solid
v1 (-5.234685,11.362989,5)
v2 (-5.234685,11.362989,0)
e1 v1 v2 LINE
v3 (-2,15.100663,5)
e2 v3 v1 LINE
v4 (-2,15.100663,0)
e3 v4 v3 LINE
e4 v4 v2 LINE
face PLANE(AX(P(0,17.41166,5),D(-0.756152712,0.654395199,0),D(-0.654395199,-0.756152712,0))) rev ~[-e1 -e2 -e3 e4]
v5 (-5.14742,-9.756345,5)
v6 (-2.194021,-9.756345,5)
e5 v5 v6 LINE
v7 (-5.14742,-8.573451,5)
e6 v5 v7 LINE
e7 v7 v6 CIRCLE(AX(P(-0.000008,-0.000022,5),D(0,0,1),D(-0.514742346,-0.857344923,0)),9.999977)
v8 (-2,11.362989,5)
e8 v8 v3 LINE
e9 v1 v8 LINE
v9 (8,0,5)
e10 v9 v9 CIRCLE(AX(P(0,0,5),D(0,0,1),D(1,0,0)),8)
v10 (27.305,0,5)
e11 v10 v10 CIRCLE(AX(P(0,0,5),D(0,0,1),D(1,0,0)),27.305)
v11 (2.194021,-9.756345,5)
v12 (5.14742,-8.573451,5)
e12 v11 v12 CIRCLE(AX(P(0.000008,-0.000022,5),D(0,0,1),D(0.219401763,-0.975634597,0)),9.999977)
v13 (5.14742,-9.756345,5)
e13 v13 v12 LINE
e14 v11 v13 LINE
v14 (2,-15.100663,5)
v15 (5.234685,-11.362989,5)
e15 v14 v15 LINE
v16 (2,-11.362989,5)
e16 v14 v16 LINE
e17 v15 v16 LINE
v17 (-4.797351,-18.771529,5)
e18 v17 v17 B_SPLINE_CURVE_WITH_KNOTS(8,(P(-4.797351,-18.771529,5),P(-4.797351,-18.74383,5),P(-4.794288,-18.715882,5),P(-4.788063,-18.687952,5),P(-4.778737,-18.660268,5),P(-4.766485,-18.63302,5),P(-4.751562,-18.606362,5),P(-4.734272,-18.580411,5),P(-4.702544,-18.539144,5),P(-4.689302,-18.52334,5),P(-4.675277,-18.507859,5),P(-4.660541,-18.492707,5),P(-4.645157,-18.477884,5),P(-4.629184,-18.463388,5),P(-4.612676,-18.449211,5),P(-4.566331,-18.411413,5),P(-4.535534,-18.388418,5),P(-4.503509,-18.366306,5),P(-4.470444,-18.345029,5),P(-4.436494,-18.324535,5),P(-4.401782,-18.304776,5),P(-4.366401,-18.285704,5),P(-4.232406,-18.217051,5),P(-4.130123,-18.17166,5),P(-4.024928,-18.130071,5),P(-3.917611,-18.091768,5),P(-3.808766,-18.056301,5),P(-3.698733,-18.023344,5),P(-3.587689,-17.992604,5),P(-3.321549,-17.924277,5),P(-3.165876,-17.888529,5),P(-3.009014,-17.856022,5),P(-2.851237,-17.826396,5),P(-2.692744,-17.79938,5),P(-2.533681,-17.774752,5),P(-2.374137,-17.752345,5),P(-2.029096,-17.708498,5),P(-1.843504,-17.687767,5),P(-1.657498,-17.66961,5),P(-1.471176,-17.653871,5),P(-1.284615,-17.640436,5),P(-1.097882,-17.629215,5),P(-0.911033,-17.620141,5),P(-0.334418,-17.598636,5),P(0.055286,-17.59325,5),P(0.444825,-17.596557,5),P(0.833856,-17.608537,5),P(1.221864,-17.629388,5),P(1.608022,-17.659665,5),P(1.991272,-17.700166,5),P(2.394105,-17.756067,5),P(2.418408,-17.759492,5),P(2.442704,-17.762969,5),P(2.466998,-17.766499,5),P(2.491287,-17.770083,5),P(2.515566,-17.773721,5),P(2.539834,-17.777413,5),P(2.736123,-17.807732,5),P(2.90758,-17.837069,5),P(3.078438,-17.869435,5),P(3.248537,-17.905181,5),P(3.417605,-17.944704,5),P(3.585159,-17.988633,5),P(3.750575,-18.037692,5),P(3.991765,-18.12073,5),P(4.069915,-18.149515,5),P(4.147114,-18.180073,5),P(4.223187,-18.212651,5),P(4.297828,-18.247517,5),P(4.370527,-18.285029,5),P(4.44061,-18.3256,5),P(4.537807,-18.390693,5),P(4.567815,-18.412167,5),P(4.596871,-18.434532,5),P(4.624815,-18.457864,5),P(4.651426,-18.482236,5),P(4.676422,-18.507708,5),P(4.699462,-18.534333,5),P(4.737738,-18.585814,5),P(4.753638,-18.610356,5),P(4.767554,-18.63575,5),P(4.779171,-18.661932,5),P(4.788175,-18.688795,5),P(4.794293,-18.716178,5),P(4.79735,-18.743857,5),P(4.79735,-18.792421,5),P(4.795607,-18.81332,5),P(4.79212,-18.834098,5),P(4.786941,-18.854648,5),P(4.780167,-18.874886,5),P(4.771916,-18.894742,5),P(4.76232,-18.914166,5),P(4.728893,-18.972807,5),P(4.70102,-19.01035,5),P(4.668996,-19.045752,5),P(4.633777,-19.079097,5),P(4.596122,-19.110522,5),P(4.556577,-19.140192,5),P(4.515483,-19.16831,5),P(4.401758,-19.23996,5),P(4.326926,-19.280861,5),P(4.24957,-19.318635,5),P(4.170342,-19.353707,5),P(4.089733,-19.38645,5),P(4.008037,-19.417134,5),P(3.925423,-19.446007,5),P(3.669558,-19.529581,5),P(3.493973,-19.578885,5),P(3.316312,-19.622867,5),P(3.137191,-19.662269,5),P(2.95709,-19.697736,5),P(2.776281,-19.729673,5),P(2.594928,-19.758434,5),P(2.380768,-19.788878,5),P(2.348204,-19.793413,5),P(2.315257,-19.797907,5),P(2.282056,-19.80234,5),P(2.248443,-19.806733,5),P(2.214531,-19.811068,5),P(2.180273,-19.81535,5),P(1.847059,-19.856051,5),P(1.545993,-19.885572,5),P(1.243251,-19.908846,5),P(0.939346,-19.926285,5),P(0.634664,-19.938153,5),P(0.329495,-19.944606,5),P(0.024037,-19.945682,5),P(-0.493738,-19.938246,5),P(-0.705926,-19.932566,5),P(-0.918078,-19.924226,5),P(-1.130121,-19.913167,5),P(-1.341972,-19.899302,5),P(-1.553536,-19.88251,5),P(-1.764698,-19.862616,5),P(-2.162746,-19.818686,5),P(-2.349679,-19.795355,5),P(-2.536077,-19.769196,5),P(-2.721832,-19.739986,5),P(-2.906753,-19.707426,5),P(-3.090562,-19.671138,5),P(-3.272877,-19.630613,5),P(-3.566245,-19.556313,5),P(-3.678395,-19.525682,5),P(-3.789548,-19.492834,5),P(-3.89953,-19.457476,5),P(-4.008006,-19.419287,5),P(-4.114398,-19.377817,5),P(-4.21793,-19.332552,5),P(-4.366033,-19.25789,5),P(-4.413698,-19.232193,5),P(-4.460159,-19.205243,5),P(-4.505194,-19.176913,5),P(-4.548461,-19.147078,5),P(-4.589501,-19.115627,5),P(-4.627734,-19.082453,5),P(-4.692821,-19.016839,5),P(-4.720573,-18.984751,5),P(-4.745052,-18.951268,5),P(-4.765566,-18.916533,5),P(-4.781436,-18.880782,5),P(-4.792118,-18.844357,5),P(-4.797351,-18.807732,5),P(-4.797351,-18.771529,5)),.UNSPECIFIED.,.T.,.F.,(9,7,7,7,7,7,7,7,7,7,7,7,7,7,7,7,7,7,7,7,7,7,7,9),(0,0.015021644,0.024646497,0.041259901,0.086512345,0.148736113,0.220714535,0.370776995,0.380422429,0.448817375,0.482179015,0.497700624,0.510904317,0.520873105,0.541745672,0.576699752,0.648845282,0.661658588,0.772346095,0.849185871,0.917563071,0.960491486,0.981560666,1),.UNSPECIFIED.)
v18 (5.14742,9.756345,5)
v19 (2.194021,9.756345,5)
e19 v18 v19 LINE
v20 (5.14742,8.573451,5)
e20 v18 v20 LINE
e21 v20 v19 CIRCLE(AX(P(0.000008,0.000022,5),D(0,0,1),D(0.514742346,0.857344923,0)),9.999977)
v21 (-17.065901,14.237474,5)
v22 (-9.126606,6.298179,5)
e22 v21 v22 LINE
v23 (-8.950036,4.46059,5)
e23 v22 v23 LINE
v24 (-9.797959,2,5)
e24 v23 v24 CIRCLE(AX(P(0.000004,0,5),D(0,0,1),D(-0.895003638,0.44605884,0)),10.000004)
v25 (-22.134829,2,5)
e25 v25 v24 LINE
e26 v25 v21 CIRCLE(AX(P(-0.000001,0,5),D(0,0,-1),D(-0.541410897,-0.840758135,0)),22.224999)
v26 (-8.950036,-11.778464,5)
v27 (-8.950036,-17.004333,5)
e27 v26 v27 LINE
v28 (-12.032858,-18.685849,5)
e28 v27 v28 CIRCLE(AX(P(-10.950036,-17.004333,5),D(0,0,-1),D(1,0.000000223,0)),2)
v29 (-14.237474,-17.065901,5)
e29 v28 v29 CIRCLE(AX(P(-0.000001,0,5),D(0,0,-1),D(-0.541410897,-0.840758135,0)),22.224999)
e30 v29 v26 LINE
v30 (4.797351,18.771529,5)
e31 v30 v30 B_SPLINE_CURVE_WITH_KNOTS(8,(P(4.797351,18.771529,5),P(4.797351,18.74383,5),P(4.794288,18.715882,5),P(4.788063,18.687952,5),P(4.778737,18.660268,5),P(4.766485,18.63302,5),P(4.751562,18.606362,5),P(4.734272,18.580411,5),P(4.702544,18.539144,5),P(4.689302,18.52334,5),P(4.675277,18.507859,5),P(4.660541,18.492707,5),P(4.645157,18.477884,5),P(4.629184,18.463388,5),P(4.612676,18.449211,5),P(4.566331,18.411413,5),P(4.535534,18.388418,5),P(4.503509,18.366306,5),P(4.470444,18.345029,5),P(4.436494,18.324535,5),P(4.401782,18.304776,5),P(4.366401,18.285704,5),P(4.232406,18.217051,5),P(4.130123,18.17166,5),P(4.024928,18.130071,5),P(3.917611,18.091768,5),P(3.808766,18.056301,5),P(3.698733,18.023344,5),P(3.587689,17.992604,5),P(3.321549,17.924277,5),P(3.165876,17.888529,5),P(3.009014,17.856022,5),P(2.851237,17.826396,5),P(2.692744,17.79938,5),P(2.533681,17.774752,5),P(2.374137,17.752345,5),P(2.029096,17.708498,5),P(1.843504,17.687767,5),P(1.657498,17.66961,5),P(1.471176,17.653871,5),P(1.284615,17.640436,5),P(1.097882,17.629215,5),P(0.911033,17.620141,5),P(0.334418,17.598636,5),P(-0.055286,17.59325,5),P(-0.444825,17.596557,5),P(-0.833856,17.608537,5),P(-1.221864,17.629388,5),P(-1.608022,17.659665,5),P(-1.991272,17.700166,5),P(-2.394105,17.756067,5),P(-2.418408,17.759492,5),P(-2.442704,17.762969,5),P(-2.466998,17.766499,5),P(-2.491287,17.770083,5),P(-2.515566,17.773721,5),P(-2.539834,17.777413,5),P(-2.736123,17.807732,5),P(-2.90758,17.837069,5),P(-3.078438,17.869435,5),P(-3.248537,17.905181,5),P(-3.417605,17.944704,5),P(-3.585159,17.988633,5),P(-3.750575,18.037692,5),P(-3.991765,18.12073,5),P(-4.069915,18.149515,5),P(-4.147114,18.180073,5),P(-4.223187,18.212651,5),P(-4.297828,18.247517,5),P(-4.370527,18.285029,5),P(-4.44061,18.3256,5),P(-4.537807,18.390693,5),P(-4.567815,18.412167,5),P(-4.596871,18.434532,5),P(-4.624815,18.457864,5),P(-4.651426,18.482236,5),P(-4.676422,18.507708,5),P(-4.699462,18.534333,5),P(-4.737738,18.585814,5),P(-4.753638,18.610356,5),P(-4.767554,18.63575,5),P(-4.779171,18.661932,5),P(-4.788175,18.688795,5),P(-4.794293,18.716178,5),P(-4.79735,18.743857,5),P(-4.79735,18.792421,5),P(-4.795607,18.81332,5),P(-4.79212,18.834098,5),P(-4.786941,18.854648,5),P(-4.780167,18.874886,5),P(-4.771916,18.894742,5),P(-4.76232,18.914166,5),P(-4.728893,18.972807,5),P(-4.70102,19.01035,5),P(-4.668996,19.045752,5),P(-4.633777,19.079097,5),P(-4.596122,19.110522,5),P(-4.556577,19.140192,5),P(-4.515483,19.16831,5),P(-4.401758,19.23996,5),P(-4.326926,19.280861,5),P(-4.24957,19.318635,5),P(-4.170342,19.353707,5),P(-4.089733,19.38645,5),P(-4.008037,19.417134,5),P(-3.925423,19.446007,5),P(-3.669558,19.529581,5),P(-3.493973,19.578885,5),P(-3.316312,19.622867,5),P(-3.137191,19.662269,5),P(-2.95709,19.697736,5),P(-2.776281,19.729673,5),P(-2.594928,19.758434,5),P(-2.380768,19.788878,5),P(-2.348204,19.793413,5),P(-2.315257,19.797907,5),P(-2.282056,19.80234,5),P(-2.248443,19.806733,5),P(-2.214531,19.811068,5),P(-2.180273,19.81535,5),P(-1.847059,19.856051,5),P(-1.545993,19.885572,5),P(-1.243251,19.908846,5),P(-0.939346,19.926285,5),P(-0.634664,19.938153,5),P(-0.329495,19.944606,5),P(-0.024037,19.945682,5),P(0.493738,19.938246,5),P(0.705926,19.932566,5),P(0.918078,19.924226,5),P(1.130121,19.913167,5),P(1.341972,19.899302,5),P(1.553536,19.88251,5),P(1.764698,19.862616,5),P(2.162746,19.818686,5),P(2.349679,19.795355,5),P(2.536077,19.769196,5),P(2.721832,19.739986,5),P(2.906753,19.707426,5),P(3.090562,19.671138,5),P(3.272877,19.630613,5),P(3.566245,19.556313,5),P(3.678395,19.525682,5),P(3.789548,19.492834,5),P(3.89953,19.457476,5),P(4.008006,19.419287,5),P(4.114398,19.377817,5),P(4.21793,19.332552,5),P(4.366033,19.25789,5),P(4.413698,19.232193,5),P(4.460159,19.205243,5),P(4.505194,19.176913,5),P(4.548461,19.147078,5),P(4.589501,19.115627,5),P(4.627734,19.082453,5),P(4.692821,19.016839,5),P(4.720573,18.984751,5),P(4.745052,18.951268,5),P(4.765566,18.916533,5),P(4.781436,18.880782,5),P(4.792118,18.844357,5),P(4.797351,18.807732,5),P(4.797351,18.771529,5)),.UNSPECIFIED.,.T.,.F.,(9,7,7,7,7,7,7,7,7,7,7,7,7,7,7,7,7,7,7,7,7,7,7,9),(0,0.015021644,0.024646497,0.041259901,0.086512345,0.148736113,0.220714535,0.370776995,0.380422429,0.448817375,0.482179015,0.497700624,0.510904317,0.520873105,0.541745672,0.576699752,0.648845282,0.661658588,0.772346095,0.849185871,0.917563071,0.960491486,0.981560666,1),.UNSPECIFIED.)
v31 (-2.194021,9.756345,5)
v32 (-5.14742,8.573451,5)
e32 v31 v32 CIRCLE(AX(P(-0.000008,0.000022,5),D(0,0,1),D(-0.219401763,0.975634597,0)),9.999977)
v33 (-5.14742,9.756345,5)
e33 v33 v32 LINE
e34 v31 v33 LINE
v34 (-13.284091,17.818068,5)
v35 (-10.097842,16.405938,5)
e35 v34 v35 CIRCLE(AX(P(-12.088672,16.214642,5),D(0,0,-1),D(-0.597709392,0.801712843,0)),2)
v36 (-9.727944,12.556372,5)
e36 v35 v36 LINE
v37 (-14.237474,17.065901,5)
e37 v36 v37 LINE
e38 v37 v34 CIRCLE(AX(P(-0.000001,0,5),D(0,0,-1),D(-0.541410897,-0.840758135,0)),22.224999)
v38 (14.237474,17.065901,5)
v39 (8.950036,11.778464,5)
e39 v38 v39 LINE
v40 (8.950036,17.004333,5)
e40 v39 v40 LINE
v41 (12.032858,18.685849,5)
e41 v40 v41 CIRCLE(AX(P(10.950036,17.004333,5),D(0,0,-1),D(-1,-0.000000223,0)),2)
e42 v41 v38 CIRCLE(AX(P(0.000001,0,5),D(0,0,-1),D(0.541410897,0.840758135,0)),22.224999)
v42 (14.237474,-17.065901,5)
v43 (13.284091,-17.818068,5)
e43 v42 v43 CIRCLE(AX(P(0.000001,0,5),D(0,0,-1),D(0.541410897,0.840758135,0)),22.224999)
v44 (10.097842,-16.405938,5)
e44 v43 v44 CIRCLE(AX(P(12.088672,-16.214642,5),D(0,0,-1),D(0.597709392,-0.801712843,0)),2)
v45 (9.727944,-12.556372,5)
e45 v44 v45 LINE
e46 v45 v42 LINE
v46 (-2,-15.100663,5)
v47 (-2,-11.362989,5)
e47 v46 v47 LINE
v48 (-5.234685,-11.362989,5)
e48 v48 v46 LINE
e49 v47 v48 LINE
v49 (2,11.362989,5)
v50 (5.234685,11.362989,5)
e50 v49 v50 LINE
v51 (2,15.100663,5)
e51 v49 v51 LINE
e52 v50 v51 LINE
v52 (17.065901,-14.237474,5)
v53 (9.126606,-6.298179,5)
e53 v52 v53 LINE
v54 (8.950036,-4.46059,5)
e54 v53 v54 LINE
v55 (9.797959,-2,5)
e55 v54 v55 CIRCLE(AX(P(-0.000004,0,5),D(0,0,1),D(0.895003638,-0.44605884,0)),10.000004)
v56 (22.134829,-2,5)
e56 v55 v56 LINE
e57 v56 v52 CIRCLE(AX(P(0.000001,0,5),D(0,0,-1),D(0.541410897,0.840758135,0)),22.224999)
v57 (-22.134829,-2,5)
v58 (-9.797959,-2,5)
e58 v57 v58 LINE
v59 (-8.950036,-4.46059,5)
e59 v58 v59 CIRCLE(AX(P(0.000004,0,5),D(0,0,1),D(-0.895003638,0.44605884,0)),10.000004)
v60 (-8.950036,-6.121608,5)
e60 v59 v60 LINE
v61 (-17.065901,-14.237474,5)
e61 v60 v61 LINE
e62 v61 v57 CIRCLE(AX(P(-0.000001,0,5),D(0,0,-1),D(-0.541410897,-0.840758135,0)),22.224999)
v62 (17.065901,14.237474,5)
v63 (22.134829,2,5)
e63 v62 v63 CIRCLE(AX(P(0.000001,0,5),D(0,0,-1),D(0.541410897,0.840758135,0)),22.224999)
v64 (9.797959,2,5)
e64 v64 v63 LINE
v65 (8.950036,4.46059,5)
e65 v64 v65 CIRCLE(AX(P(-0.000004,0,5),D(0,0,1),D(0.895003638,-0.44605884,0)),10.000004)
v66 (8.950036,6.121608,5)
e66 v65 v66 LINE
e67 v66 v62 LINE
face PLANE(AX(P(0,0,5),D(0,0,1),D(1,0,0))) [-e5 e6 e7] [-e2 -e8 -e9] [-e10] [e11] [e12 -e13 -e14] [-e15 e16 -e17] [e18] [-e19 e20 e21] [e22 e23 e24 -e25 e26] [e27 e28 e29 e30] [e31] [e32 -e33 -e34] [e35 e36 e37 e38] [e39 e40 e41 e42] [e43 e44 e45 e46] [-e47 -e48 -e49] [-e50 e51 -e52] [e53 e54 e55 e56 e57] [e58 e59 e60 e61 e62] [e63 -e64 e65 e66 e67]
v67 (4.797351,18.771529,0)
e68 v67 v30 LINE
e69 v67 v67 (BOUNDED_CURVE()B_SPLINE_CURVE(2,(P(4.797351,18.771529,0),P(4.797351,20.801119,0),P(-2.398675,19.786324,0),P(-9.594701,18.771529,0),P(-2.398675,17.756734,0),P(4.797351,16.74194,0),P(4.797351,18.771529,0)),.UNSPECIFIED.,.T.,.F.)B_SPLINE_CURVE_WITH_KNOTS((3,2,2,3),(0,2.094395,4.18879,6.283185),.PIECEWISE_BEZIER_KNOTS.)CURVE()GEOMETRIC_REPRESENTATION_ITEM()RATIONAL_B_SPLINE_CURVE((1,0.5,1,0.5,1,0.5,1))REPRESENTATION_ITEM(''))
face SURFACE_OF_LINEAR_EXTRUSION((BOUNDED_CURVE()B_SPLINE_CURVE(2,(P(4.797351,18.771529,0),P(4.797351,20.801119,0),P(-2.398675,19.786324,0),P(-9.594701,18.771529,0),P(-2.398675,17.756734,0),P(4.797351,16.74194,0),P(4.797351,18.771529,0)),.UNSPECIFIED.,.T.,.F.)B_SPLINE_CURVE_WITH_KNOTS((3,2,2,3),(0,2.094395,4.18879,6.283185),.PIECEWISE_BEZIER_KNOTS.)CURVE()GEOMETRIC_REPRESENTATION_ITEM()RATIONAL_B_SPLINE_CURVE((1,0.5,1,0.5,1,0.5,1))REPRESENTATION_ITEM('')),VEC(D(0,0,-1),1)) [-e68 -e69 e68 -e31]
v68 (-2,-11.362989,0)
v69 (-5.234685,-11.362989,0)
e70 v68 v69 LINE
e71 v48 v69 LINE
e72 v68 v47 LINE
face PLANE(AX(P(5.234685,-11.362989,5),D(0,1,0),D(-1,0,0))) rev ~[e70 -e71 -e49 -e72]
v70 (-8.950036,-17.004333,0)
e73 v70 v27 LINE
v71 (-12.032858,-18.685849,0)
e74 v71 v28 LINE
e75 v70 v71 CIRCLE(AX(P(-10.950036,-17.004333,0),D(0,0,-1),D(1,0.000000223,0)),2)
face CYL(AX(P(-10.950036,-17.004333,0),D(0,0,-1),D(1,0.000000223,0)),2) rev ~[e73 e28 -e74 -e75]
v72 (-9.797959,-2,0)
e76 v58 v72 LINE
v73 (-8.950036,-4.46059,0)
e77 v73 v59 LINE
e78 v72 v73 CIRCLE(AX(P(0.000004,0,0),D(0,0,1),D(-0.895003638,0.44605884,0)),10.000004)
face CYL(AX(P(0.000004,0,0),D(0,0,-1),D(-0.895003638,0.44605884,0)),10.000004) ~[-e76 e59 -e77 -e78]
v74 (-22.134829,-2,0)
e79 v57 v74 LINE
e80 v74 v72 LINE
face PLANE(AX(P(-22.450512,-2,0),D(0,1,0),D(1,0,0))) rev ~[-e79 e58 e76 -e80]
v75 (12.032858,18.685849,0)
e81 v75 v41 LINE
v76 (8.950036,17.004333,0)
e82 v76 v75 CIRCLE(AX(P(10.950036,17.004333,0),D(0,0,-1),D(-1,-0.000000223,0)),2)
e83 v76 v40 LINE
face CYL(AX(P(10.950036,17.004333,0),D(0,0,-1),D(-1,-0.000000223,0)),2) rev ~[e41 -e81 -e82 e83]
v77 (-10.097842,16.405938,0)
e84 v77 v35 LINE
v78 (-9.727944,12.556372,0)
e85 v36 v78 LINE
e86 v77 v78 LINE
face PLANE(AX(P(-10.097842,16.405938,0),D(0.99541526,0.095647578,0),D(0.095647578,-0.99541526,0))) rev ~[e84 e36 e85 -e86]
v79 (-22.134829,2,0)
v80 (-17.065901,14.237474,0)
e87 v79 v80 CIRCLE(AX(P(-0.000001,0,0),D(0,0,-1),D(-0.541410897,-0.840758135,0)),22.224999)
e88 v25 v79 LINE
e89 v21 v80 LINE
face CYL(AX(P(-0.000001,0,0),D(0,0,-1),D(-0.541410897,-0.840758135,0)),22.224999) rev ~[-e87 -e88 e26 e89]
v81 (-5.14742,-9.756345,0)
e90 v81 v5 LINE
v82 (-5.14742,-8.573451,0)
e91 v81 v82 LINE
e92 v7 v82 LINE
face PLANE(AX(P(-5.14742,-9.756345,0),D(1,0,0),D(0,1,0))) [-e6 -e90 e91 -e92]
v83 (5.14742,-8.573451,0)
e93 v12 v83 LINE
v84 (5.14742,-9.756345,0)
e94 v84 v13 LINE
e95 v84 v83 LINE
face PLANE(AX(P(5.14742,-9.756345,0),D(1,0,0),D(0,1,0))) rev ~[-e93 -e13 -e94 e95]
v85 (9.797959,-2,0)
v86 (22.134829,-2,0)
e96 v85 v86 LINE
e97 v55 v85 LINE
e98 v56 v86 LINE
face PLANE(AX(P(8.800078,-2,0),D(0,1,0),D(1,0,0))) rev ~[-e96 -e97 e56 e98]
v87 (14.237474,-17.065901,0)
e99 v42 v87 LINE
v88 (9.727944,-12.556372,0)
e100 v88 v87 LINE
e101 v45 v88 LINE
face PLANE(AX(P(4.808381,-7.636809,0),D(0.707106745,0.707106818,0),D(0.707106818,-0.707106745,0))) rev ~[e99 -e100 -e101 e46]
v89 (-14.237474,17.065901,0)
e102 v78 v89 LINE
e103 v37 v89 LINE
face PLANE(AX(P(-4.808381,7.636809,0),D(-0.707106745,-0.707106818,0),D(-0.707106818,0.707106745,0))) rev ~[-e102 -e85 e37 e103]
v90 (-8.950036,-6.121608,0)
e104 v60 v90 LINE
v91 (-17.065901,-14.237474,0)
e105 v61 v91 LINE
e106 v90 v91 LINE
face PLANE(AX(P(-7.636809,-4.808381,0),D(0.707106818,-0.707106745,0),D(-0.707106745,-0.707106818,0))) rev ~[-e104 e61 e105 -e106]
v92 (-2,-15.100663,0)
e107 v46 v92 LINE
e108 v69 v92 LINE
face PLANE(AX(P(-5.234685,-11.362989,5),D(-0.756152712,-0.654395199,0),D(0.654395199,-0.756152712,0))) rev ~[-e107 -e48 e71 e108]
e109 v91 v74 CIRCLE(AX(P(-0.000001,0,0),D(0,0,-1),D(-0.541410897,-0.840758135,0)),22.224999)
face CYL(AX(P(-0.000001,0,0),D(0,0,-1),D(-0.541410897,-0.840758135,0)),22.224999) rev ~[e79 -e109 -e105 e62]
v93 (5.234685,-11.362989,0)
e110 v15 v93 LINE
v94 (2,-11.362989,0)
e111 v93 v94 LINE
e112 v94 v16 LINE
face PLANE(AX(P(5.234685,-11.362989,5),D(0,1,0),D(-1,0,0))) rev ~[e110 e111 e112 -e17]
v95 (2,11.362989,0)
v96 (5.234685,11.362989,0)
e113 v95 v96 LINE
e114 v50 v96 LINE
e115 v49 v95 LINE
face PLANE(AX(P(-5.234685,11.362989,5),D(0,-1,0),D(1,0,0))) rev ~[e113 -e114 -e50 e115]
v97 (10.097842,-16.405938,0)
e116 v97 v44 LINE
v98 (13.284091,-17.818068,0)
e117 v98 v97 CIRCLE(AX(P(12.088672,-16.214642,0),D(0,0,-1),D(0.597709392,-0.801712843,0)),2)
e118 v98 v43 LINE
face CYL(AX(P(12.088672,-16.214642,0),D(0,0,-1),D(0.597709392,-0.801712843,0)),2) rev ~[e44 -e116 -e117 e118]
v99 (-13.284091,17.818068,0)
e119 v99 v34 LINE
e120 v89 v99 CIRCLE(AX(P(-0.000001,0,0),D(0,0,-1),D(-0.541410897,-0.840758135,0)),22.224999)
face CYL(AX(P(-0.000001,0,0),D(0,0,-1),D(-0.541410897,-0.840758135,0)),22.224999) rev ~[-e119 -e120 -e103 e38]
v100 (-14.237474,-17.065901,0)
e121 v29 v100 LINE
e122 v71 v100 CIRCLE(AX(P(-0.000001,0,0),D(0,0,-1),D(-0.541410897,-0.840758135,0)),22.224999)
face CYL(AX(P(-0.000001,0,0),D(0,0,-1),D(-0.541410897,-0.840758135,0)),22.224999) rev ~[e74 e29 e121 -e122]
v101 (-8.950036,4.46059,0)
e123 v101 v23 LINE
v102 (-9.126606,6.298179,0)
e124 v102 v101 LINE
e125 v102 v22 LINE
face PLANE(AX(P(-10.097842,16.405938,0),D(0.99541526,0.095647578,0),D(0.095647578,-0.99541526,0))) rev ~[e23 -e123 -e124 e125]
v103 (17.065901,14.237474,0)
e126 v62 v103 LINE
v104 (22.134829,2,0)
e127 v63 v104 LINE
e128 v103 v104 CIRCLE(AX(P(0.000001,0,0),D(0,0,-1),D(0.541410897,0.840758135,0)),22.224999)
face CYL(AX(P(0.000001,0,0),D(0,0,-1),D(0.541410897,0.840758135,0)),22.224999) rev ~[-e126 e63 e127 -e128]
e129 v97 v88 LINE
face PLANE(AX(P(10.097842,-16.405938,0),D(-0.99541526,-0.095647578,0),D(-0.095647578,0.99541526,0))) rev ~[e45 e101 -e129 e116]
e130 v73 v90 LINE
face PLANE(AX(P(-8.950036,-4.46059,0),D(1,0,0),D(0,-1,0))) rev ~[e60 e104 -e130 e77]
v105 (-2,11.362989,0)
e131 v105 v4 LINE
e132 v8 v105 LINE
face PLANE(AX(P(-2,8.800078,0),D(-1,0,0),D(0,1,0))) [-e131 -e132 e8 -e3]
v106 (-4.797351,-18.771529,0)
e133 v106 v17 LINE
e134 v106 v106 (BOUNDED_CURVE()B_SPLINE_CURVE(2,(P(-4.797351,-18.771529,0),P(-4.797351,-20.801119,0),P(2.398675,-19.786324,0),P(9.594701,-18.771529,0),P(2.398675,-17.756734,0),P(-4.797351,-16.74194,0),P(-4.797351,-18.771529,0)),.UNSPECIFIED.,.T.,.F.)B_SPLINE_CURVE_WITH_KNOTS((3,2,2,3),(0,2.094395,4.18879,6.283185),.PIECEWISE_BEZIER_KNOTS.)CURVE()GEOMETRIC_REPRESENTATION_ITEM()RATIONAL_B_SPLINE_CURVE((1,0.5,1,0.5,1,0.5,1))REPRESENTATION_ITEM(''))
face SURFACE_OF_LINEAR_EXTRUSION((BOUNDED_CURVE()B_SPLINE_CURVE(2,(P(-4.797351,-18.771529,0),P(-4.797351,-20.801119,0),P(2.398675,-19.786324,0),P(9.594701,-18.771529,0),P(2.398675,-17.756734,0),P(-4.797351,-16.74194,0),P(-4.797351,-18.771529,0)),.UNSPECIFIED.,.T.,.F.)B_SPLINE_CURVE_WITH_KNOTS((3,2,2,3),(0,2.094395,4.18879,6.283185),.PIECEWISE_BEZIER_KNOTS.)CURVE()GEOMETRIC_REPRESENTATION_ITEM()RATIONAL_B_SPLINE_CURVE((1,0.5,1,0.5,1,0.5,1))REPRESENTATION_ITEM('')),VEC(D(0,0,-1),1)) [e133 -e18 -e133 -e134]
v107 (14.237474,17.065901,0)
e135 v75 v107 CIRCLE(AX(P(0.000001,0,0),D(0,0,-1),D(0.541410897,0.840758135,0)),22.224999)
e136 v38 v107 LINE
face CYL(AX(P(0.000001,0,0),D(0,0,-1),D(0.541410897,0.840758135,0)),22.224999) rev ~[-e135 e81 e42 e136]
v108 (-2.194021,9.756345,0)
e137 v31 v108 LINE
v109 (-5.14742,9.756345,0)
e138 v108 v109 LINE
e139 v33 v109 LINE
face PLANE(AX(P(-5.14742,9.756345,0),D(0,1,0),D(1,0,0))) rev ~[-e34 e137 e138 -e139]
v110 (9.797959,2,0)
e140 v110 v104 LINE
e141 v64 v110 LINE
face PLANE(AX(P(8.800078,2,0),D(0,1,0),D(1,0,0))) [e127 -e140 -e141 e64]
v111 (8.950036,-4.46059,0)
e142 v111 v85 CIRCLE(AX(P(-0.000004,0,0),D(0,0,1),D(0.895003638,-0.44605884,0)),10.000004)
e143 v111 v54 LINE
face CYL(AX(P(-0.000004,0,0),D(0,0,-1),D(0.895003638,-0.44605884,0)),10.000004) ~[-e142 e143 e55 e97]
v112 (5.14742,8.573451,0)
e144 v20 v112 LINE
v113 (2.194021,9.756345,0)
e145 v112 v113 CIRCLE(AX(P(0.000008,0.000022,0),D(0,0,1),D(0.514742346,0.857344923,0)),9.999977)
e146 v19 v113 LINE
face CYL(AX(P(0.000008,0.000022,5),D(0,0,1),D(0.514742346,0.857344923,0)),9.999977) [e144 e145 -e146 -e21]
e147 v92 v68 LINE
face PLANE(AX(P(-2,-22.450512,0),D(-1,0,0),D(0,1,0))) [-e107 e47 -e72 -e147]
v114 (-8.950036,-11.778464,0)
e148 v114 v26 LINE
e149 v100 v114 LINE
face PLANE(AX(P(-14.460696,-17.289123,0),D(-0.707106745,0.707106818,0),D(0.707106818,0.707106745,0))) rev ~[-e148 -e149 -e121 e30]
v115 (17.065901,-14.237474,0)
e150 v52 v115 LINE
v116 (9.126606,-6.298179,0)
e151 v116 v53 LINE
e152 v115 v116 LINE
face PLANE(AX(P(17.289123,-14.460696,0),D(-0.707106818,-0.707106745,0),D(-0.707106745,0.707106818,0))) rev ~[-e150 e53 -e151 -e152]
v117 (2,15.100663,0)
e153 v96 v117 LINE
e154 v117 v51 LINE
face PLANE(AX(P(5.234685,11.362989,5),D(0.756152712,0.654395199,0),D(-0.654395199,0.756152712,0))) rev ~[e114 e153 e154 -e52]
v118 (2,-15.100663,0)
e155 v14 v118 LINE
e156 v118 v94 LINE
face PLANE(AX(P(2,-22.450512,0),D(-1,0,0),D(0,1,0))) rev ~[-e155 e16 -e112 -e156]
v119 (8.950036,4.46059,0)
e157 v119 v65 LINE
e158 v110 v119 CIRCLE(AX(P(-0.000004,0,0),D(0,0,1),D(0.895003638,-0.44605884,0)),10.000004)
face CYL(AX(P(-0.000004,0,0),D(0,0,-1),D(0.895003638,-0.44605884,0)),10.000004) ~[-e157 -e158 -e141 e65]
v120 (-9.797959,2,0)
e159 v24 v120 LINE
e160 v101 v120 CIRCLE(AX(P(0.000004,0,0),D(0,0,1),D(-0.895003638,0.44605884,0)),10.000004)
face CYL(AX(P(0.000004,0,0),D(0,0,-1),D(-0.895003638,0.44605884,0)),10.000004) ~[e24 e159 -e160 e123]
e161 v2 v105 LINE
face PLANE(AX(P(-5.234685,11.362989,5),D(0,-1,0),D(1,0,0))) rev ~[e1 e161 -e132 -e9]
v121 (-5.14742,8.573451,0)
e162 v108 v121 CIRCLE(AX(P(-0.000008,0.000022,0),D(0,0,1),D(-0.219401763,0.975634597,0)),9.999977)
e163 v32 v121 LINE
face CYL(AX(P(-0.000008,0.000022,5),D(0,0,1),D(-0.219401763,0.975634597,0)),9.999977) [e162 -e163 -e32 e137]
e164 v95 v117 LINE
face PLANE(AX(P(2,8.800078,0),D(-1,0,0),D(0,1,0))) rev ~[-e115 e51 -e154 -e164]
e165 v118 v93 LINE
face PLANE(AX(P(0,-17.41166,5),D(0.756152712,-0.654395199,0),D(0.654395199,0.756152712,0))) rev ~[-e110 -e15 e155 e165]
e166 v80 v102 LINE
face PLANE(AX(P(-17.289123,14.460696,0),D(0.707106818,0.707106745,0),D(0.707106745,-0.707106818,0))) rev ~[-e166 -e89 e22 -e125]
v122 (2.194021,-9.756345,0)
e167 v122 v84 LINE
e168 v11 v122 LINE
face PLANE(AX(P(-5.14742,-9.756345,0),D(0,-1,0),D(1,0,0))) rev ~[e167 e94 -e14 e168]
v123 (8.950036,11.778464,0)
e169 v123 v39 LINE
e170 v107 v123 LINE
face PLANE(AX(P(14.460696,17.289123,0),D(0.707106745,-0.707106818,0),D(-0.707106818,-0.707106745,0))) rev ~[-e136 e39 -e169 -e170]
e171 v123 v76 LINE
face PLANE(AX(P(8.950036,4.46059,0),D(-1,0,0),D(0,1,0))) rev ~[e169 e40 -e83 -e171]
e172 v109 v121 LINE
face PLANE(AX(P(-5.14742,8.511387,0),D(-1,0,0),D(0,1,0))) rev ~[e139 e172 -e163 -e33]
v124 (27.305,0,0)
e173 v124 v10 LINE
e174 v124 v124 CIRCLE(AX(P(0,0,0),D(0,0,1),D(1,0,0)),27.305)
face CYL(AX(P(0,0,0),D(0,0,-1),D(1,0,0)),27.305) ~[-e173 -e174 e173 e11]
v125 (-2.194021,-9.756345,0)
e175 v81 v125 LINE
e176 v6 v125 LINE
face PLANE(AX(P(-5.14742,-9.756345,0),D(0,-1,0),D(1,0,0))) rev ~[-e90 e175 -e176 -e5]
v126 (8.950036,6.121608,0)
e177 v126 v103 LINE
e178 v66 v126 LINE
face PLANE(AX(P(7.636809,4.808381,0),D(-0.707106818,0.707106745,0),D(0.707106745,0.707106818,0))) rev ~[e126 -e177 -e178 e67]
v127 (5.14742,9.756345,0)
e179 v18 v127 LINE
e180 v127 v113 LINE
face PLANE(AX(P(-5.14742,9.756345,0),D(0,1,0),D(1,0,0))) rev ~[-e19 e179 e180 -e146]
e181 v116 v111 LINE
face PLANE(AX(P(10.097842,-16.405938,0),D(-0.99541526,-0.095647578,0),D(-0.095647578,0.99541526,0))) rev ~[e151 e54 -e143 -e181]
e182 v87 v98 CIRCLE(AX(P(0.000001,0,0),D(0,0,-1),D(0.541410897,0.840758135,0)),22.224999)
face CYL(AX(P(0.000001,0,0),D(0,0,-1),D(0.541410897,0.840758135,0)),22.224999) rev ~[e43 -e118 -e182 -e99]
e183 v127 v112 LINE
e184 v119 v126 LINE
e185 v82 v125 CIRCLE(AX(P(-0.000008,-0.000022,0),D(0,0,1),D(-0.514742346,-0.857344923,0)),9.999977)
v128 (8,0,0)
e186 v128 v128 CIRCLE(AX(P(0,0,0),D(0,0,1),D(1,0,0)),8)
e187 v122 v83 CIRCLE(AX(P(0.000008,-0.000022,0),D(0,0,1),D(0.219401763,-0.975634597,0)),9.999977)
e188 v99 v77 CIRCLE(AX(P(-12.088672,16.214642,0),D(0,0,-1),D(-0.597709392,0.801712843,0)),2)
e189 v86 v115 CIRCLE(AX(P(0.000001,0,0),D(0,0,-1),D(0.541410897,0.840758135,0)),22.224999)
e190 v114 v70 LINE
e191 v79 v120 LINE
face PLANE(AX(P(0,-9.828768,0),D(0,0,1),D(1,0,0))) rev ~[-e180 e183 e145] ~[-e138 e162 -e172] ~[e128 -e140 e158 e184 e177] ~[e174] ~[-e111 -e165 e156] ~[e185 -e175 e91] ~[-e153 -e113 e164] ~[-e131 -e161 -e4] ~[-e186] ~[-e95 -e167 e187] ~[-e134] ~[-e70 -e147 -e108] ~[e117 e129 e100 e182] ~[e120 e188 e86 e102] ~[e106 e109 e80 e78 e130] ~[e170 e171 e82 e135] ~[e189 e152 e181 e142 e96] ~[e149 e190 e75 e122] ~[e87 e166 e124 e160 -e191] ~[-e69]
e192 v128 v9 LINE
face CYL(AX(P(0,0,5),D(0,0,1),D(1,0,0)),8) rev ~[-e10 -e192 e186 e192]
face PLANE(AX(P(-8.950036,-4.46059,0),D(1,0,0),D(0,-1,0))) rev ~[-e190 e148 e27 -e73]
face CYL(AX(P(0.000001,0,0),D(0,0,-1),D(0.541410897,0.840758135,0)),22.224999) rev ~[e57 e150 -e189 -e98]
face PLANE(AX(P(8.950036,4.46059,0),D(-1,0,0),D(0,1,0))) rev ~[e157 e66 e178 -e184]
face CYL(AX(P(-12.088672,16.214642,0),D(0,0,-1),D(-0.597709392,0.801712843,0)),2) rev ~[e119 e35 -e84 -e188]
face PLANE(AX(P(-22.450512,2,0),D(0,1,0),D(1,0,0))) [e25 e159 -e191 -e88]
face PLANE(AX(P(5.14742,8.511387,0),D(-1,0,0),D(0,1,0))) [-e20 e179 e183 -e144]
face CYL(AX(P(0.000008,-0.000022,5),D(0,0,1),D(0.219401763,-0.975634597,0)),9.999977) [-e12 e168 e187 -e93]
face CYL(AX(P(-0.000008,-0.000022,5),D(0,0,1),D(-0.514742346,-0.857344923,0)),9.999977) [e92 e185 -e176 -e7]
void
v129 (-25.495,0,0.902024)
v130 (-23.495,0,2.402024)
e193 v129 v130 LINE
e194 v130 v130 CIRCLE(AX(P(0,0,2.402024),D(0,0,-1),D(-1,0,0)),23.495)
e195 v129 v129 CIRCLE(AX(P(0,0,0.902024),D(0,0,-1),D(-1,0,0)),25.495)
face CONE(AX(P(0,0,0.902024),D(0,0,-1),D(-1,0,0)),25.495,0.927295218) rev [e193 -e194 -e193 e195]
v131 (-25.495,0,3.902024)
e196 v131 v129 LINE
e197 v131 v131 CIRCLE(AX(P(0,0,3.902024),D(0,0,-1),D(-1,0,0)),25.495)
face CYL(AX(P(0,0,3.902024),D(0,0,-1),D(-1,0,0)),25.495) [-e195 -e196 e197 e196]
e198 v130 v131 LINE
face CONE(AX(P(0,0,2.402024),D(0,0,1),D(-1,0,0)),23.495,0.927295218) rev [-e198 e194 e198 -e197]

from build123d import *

# Parameters (mm, degrees)
F0_R      = 27.305
F0_R_2    = 3.125
F1_DEPTH  = 5
F2_R      = 7.5
F2_R_2    = 3.125
F3_DEPTH  = 4
F4_R      = 6.096
F7_DEPTH  = 5.001
F10_R     = 0.662213
F11_DEPTH = 9.001
F12_W     = 13.650434
F12_H     = 4
F12_W_2   = 4
F12_H_2   = 13.650434
F13_DEPTH = 5
F15_DEPTH = 12.7
F16_W     = 10.29484
F16_H     = 1.244958
F17_DEPTH = 12.7
F18_R     = 8
F19_DEPTH = 12.7
F20_R     = 8
F21_DEPTH = 5


with BuildPart() as f1:
    # F0 (on Top) → F1 (new body)
    with BuildSketch(Plane.XY):
        Circle(F0_R)
        with BuildLine():
            Line((-10.097842, 16.405938), (-8.950036, 4.46059))
            ThreePointArc((-8.950036, 4.46059), (-10, 0), (-8.950036, -4.46059))
            Line((-8.950036, -4.46059), (-8.950036, -17.004333))
            ThreePointArc((-8.950036, -17.004333), (-9.992342, -18.76013), (-12.032858, -18.685849))
            ThreePointArc((-12.032858, -18.685849), (-22.211956, -0.761352), (-13.284091, 17.818068))
            ThreePointArc((-13.284091, 17.818068), (-11.278303, 18.043112), (-10.097842, 16.405938))
        make_face(mode=Mode.SUBTRACT)
        Circle(F0_R_2, mode=Mode.SUBTRACT)
        with BuildLine():
            Line((8.950036, 4.46059), (8.950036, 17.004333))
            ThreePointArc((8.950036, 17.004333), (9.992342, 18.76013), (12.032858, 18.685849))
            ThreePointArc((12.032858, 18.685849), (22.211956, 0.761352), (13.284091, -17.818068))
            ThreePointArc((13.284091, -17.818068), (11.278303, -18.043112), (10.097842, -16.405938))
            Line((10.097842, -16.405938), (8.950036, -4.46059))
            ThreePointArc((8.950036, -4.46059), (10, 0), (8.950036, 4.46059))
        make_face(mode=Mode.SUBTRACT)
    extrude(amount=F1_DEPTH)

    # F2 (on face) → F3 (join)
    with BuildSketch(Plane.XY.offset(5)):
        Circle(F2_R)
        Circle(F2_R_2, mode=Mode.SUBTRACT)
    extrude(amount=F3_DEPTH)

    # F4 (on Front) → F5 (revolve, cut)
    with BuildSketch(Plane.XZ):
        with Locations((-9.469913, 12.312098)):
            Circle(F4_R)
    revolve(axis=Axis((0, 0, 5.050069), (0, 0, -1)), mode=Mode.SUBTRACT)

    # F6 (on face) → F7 (cut, through all)
    with BuildSketch(Plane.XY.offset(5)):
        Polygon((0, 17.41166), (0, 11.362989), (5.234685, 11.362989), align=None)
        Polygon((-5.234685, 11.362989), (0, 11.362989), (0, 17.41166), align=None)
        Polygon((0, -11.362989), (-5.234685, -11.362989), (0, -17.41166), (5.234685, -11.362989), align=None)
    extrude(amount=-F7_DEPTH, mode=Mode.SUBTRACT)

    # F8 (on Front) → F9 (revolve, cut)
    with BuildSketch(Plane.XZ):
        Polygon((-25.495, 3.902024), (-25.495, 2.402024), (-23.495, 2.402024), align=None)
        Polygon((-23.495, 2.402024), (-25.495, 2.402024), (-25.495, 0.902024), align=None)
    revolve(axis=Axis((0, 0, 20.538263), (0, 0, -1)), mode=Mode.SUBTRACT)

    # F10 (on face) → F11 (cut, through all)
    with BuildSketch(Plane.XY):
        with Locations((0, 5.743192)):
            Circle(F10_R)
        with Locations((-4.06105, 4.06105)):
            Circle(F10_R)
        with Locations((-5.743192, 0)):
            Circle(F10_R)
        with Locations((-4.06105, -4.06105)):
            Circle(F10_R)
        with Locations((0, -5.743192)):
            Circle(F10_R)
        with Locations((4.06105, -4.06105)):
            Circle(F10_R)
        with Locations((5.743192, 0)):
            Circle(F10_R)
        with Locations((4.06105, 4.06105)):
            Circle(F10_R)
    extrude(amount=F11_DEPTH, mode=Mode.SUBTRACT)

    # F12 (on Top) → F13 (join)
    with BuildSketch(Plane.XY):
        with Locations((-15.625295, 0)):
            Rectangle(F12_W, F12_H)
        Polygon((-14.460696, -17.289123), (-4.808381, -7.636809), (-7.636809, -4.808381), (-17.289123, -14.460696), align=None)
        with Locations((0, -15.625295)):
            Rectangle(F12_W_2, F12_H_2)
        Polygon((17.289123, -14.460696), (7.636809, -4.808381), (4.808381, -7.636809), (14.460696, -17.289123), align=None)
        with Locations((15.625295, 0)):
            Rectangle(F12_W, F12_H)
        Polygon((14.460696, 17.289123), (4.808381, 7.636809), (7.636809, 4.808381), (17.289123, 14.460696), align=None)
        with Locations((0, 15.625295)):
            Rectangle(F12_W_2, F12_H_2)
        Polygon((-17.289123, 14.460696), (-7.636809, 4.808381), (-4.808381, 7.636809), (-14.460696, 17.289123), align=None)
    extrude(amount=F13_DEPTH)

    # F14 (on Top) → F15 (cut, symmetric)
    with BuildSketch(Plane.XY):
        with BuildLine():
            add(Edge.make_bspline(
                [(4.797351, 18.771529), (4.797351, 20.801119), (-2.398675, 19.786324), (-9.594701, 18.771529), (-2.398675, 17.756734), (4.797351, 16.74194), (4.797351, 18.771529)],
                knots=[0, 0, 0, 2.094395, 2.094395, 4.18879, 4.18879, 6.283185, 6.283185, 6.283185], degree=2, weights=[1, 0.5, 1, 0.5, 1, 0.5, 1]))
        make_face()
        with BuildLine():
            add(Edge.make_bspline(
                [(-4.797351, -18.771529), (-4.797351, -20.801119), (2.398675, -19.786324), (9.594701, -18.771529), (2.398675, -17.756734), (-4.797351, -16.74194), (-4.797351, -18.771529)],
                knots=[0, 0, 0, 2.094395, 2.094395, 4.18879, 4.18879, 6.283185, 6.283185, 6.283185], degree=2, weights=[1, 0.5, 1, 0.5, 1, 0.5, 1]))
        make_face()
    extrude(amount=F15_DEPTH, both=True, mode=Mode.SUBTRACT)

    # F16 (on Top) → F17 (cut, symmetric)
    with BuildSketch(Plane.XY):
        with Locations((0, 9.133866)):
            Rectangle(F16_W, F16_H)
        with Locations((0, -9.133866)):
            Rectangle(F16_W, F16_H)
    extrude(amount=F17_DEPTH, both=True, mode=Mode.SUBTRACT)

    # F18 (on face) → F19 (cut, symmetric)
    with BuildSketch(Plane.XY.offset(5)):
        Circle(F18_R)
    extrude(amount=F19_DEPTH, both=True, mode=Mode.SUBTRACT)

    # F20 (on face) → F21 (join)
    with BuildSketch(Plane.XY.offset(5)):
        with BuildLine():
            ThreePointArc((-2.194021, -9.756345), (0, -10), (2.194021, -9.756345))
            Line((2.194021, -9.756345), (-2.194021, -9.756345))
        make_face()
        with BuildLine():
            Line((5.14742, 8.511387), (5.14742, 8.573451))
            ThreePointArc((5.14742, 8.573451), (3.718064, 9.283103), (2.194021, 9.756345))
            Line((2.194021, 9.756345), (-2.194021, 9.756345))
            ThreePointArc((-2.194021, 9.756345), (-3.718064, 9.283103), (-5.14742, 8.573451))
            Line((-5.14742, 8.573451), (-5.14742, 8.511387))
            Line((-5.14742, 8.511387), (5.14742, 8.511387))
        make_face()
        with BuildLine():
            ThreePointArc((9.797959, -2), (9.949362, -1.00509), (10, 0))
            ThreePointArc((10, 0), (9.949362, 1.00509), (9.797959, 2))
            ThreePointArc((9.797959, 2), (9.454388, 3.257998), (8.950036, 4.46059))
            ThreePointArc((8.950036, 4.46059), (7.342579, 6.788706), (5.14742, 8.573451))
            Line((5.14742, 8.573451), (5.14742, 8.511387))
            Line((5.14742, 8.511387), (-5.14742, 8.511387))
            Line((-5.14742, 8.511387), (-5.14742, 8.573451))
            ThreePointArc((-5.14742, 8.573451), (-7.342579, 6.788706), (-8.950036, 4.46059))
            ThreePointArc((-8.950036, 4.46059), (-9.454388, 3.257998), (-9.797959, 2))
            ThreePointArc((-9.797959, 2), (-10, 0), (-9.797959, -2))
            ThreePointArc((-9.797959, -2), (-9.454388, -3.257998), (-8.950036, -4.46059))
            ThreePointArc((-8.950036, -4.46059), (-7.342579, -6.788706), (-5.14742, -8.573451))
            Line((-5.14742, -8.573451), (-5.14742, -8.511387))
            Line((-5.14742, -8.511387), (5.14742, -8.511387))
            Line((5.14742, -8.511387), (5.14742, -8.573451))
            ThreePointArc((5.14742, -8.573451), (7.342579, -6.788706), (8.950036, -4.46059))
            ThreePointArc((8.950036, -4.46059), (9.454388, -3.257998), (9.797959, -2))
        make_face()
        Circle(F20_R, mode=Mode.SUBTRACT)
        with BuildLine():
            ThreePointArc((2.194021, -9.756345), (3.718064, -9.283103), (5.14742, -8.573451))
            Line((5.14742, -8.573451), (5.14742, -8.511387))
            Line((5.14742, -8.511387), (-5.14742, -8.511387))
            Line((-5.14742, -8.511387), (-5.14742, -8.573451))
            ThreePointArc((-5.14742, -8.573451), (-3.718064, -9.283103), (-2.194021, -9.756345))
            Line((-2.194021, -9.756345), (2.194021, -9.756345))
        make_face()
        with BuildLine():
            Line((-2.194021, 9.756345), (2.194021, 9.756345))
            ThreePointArc((2.194021, 9.756345), (0, 10), (-2.194021, 9.756345))
        make_face()
    extrude(amount=-F21_DEPTH)


solid = f1.part
